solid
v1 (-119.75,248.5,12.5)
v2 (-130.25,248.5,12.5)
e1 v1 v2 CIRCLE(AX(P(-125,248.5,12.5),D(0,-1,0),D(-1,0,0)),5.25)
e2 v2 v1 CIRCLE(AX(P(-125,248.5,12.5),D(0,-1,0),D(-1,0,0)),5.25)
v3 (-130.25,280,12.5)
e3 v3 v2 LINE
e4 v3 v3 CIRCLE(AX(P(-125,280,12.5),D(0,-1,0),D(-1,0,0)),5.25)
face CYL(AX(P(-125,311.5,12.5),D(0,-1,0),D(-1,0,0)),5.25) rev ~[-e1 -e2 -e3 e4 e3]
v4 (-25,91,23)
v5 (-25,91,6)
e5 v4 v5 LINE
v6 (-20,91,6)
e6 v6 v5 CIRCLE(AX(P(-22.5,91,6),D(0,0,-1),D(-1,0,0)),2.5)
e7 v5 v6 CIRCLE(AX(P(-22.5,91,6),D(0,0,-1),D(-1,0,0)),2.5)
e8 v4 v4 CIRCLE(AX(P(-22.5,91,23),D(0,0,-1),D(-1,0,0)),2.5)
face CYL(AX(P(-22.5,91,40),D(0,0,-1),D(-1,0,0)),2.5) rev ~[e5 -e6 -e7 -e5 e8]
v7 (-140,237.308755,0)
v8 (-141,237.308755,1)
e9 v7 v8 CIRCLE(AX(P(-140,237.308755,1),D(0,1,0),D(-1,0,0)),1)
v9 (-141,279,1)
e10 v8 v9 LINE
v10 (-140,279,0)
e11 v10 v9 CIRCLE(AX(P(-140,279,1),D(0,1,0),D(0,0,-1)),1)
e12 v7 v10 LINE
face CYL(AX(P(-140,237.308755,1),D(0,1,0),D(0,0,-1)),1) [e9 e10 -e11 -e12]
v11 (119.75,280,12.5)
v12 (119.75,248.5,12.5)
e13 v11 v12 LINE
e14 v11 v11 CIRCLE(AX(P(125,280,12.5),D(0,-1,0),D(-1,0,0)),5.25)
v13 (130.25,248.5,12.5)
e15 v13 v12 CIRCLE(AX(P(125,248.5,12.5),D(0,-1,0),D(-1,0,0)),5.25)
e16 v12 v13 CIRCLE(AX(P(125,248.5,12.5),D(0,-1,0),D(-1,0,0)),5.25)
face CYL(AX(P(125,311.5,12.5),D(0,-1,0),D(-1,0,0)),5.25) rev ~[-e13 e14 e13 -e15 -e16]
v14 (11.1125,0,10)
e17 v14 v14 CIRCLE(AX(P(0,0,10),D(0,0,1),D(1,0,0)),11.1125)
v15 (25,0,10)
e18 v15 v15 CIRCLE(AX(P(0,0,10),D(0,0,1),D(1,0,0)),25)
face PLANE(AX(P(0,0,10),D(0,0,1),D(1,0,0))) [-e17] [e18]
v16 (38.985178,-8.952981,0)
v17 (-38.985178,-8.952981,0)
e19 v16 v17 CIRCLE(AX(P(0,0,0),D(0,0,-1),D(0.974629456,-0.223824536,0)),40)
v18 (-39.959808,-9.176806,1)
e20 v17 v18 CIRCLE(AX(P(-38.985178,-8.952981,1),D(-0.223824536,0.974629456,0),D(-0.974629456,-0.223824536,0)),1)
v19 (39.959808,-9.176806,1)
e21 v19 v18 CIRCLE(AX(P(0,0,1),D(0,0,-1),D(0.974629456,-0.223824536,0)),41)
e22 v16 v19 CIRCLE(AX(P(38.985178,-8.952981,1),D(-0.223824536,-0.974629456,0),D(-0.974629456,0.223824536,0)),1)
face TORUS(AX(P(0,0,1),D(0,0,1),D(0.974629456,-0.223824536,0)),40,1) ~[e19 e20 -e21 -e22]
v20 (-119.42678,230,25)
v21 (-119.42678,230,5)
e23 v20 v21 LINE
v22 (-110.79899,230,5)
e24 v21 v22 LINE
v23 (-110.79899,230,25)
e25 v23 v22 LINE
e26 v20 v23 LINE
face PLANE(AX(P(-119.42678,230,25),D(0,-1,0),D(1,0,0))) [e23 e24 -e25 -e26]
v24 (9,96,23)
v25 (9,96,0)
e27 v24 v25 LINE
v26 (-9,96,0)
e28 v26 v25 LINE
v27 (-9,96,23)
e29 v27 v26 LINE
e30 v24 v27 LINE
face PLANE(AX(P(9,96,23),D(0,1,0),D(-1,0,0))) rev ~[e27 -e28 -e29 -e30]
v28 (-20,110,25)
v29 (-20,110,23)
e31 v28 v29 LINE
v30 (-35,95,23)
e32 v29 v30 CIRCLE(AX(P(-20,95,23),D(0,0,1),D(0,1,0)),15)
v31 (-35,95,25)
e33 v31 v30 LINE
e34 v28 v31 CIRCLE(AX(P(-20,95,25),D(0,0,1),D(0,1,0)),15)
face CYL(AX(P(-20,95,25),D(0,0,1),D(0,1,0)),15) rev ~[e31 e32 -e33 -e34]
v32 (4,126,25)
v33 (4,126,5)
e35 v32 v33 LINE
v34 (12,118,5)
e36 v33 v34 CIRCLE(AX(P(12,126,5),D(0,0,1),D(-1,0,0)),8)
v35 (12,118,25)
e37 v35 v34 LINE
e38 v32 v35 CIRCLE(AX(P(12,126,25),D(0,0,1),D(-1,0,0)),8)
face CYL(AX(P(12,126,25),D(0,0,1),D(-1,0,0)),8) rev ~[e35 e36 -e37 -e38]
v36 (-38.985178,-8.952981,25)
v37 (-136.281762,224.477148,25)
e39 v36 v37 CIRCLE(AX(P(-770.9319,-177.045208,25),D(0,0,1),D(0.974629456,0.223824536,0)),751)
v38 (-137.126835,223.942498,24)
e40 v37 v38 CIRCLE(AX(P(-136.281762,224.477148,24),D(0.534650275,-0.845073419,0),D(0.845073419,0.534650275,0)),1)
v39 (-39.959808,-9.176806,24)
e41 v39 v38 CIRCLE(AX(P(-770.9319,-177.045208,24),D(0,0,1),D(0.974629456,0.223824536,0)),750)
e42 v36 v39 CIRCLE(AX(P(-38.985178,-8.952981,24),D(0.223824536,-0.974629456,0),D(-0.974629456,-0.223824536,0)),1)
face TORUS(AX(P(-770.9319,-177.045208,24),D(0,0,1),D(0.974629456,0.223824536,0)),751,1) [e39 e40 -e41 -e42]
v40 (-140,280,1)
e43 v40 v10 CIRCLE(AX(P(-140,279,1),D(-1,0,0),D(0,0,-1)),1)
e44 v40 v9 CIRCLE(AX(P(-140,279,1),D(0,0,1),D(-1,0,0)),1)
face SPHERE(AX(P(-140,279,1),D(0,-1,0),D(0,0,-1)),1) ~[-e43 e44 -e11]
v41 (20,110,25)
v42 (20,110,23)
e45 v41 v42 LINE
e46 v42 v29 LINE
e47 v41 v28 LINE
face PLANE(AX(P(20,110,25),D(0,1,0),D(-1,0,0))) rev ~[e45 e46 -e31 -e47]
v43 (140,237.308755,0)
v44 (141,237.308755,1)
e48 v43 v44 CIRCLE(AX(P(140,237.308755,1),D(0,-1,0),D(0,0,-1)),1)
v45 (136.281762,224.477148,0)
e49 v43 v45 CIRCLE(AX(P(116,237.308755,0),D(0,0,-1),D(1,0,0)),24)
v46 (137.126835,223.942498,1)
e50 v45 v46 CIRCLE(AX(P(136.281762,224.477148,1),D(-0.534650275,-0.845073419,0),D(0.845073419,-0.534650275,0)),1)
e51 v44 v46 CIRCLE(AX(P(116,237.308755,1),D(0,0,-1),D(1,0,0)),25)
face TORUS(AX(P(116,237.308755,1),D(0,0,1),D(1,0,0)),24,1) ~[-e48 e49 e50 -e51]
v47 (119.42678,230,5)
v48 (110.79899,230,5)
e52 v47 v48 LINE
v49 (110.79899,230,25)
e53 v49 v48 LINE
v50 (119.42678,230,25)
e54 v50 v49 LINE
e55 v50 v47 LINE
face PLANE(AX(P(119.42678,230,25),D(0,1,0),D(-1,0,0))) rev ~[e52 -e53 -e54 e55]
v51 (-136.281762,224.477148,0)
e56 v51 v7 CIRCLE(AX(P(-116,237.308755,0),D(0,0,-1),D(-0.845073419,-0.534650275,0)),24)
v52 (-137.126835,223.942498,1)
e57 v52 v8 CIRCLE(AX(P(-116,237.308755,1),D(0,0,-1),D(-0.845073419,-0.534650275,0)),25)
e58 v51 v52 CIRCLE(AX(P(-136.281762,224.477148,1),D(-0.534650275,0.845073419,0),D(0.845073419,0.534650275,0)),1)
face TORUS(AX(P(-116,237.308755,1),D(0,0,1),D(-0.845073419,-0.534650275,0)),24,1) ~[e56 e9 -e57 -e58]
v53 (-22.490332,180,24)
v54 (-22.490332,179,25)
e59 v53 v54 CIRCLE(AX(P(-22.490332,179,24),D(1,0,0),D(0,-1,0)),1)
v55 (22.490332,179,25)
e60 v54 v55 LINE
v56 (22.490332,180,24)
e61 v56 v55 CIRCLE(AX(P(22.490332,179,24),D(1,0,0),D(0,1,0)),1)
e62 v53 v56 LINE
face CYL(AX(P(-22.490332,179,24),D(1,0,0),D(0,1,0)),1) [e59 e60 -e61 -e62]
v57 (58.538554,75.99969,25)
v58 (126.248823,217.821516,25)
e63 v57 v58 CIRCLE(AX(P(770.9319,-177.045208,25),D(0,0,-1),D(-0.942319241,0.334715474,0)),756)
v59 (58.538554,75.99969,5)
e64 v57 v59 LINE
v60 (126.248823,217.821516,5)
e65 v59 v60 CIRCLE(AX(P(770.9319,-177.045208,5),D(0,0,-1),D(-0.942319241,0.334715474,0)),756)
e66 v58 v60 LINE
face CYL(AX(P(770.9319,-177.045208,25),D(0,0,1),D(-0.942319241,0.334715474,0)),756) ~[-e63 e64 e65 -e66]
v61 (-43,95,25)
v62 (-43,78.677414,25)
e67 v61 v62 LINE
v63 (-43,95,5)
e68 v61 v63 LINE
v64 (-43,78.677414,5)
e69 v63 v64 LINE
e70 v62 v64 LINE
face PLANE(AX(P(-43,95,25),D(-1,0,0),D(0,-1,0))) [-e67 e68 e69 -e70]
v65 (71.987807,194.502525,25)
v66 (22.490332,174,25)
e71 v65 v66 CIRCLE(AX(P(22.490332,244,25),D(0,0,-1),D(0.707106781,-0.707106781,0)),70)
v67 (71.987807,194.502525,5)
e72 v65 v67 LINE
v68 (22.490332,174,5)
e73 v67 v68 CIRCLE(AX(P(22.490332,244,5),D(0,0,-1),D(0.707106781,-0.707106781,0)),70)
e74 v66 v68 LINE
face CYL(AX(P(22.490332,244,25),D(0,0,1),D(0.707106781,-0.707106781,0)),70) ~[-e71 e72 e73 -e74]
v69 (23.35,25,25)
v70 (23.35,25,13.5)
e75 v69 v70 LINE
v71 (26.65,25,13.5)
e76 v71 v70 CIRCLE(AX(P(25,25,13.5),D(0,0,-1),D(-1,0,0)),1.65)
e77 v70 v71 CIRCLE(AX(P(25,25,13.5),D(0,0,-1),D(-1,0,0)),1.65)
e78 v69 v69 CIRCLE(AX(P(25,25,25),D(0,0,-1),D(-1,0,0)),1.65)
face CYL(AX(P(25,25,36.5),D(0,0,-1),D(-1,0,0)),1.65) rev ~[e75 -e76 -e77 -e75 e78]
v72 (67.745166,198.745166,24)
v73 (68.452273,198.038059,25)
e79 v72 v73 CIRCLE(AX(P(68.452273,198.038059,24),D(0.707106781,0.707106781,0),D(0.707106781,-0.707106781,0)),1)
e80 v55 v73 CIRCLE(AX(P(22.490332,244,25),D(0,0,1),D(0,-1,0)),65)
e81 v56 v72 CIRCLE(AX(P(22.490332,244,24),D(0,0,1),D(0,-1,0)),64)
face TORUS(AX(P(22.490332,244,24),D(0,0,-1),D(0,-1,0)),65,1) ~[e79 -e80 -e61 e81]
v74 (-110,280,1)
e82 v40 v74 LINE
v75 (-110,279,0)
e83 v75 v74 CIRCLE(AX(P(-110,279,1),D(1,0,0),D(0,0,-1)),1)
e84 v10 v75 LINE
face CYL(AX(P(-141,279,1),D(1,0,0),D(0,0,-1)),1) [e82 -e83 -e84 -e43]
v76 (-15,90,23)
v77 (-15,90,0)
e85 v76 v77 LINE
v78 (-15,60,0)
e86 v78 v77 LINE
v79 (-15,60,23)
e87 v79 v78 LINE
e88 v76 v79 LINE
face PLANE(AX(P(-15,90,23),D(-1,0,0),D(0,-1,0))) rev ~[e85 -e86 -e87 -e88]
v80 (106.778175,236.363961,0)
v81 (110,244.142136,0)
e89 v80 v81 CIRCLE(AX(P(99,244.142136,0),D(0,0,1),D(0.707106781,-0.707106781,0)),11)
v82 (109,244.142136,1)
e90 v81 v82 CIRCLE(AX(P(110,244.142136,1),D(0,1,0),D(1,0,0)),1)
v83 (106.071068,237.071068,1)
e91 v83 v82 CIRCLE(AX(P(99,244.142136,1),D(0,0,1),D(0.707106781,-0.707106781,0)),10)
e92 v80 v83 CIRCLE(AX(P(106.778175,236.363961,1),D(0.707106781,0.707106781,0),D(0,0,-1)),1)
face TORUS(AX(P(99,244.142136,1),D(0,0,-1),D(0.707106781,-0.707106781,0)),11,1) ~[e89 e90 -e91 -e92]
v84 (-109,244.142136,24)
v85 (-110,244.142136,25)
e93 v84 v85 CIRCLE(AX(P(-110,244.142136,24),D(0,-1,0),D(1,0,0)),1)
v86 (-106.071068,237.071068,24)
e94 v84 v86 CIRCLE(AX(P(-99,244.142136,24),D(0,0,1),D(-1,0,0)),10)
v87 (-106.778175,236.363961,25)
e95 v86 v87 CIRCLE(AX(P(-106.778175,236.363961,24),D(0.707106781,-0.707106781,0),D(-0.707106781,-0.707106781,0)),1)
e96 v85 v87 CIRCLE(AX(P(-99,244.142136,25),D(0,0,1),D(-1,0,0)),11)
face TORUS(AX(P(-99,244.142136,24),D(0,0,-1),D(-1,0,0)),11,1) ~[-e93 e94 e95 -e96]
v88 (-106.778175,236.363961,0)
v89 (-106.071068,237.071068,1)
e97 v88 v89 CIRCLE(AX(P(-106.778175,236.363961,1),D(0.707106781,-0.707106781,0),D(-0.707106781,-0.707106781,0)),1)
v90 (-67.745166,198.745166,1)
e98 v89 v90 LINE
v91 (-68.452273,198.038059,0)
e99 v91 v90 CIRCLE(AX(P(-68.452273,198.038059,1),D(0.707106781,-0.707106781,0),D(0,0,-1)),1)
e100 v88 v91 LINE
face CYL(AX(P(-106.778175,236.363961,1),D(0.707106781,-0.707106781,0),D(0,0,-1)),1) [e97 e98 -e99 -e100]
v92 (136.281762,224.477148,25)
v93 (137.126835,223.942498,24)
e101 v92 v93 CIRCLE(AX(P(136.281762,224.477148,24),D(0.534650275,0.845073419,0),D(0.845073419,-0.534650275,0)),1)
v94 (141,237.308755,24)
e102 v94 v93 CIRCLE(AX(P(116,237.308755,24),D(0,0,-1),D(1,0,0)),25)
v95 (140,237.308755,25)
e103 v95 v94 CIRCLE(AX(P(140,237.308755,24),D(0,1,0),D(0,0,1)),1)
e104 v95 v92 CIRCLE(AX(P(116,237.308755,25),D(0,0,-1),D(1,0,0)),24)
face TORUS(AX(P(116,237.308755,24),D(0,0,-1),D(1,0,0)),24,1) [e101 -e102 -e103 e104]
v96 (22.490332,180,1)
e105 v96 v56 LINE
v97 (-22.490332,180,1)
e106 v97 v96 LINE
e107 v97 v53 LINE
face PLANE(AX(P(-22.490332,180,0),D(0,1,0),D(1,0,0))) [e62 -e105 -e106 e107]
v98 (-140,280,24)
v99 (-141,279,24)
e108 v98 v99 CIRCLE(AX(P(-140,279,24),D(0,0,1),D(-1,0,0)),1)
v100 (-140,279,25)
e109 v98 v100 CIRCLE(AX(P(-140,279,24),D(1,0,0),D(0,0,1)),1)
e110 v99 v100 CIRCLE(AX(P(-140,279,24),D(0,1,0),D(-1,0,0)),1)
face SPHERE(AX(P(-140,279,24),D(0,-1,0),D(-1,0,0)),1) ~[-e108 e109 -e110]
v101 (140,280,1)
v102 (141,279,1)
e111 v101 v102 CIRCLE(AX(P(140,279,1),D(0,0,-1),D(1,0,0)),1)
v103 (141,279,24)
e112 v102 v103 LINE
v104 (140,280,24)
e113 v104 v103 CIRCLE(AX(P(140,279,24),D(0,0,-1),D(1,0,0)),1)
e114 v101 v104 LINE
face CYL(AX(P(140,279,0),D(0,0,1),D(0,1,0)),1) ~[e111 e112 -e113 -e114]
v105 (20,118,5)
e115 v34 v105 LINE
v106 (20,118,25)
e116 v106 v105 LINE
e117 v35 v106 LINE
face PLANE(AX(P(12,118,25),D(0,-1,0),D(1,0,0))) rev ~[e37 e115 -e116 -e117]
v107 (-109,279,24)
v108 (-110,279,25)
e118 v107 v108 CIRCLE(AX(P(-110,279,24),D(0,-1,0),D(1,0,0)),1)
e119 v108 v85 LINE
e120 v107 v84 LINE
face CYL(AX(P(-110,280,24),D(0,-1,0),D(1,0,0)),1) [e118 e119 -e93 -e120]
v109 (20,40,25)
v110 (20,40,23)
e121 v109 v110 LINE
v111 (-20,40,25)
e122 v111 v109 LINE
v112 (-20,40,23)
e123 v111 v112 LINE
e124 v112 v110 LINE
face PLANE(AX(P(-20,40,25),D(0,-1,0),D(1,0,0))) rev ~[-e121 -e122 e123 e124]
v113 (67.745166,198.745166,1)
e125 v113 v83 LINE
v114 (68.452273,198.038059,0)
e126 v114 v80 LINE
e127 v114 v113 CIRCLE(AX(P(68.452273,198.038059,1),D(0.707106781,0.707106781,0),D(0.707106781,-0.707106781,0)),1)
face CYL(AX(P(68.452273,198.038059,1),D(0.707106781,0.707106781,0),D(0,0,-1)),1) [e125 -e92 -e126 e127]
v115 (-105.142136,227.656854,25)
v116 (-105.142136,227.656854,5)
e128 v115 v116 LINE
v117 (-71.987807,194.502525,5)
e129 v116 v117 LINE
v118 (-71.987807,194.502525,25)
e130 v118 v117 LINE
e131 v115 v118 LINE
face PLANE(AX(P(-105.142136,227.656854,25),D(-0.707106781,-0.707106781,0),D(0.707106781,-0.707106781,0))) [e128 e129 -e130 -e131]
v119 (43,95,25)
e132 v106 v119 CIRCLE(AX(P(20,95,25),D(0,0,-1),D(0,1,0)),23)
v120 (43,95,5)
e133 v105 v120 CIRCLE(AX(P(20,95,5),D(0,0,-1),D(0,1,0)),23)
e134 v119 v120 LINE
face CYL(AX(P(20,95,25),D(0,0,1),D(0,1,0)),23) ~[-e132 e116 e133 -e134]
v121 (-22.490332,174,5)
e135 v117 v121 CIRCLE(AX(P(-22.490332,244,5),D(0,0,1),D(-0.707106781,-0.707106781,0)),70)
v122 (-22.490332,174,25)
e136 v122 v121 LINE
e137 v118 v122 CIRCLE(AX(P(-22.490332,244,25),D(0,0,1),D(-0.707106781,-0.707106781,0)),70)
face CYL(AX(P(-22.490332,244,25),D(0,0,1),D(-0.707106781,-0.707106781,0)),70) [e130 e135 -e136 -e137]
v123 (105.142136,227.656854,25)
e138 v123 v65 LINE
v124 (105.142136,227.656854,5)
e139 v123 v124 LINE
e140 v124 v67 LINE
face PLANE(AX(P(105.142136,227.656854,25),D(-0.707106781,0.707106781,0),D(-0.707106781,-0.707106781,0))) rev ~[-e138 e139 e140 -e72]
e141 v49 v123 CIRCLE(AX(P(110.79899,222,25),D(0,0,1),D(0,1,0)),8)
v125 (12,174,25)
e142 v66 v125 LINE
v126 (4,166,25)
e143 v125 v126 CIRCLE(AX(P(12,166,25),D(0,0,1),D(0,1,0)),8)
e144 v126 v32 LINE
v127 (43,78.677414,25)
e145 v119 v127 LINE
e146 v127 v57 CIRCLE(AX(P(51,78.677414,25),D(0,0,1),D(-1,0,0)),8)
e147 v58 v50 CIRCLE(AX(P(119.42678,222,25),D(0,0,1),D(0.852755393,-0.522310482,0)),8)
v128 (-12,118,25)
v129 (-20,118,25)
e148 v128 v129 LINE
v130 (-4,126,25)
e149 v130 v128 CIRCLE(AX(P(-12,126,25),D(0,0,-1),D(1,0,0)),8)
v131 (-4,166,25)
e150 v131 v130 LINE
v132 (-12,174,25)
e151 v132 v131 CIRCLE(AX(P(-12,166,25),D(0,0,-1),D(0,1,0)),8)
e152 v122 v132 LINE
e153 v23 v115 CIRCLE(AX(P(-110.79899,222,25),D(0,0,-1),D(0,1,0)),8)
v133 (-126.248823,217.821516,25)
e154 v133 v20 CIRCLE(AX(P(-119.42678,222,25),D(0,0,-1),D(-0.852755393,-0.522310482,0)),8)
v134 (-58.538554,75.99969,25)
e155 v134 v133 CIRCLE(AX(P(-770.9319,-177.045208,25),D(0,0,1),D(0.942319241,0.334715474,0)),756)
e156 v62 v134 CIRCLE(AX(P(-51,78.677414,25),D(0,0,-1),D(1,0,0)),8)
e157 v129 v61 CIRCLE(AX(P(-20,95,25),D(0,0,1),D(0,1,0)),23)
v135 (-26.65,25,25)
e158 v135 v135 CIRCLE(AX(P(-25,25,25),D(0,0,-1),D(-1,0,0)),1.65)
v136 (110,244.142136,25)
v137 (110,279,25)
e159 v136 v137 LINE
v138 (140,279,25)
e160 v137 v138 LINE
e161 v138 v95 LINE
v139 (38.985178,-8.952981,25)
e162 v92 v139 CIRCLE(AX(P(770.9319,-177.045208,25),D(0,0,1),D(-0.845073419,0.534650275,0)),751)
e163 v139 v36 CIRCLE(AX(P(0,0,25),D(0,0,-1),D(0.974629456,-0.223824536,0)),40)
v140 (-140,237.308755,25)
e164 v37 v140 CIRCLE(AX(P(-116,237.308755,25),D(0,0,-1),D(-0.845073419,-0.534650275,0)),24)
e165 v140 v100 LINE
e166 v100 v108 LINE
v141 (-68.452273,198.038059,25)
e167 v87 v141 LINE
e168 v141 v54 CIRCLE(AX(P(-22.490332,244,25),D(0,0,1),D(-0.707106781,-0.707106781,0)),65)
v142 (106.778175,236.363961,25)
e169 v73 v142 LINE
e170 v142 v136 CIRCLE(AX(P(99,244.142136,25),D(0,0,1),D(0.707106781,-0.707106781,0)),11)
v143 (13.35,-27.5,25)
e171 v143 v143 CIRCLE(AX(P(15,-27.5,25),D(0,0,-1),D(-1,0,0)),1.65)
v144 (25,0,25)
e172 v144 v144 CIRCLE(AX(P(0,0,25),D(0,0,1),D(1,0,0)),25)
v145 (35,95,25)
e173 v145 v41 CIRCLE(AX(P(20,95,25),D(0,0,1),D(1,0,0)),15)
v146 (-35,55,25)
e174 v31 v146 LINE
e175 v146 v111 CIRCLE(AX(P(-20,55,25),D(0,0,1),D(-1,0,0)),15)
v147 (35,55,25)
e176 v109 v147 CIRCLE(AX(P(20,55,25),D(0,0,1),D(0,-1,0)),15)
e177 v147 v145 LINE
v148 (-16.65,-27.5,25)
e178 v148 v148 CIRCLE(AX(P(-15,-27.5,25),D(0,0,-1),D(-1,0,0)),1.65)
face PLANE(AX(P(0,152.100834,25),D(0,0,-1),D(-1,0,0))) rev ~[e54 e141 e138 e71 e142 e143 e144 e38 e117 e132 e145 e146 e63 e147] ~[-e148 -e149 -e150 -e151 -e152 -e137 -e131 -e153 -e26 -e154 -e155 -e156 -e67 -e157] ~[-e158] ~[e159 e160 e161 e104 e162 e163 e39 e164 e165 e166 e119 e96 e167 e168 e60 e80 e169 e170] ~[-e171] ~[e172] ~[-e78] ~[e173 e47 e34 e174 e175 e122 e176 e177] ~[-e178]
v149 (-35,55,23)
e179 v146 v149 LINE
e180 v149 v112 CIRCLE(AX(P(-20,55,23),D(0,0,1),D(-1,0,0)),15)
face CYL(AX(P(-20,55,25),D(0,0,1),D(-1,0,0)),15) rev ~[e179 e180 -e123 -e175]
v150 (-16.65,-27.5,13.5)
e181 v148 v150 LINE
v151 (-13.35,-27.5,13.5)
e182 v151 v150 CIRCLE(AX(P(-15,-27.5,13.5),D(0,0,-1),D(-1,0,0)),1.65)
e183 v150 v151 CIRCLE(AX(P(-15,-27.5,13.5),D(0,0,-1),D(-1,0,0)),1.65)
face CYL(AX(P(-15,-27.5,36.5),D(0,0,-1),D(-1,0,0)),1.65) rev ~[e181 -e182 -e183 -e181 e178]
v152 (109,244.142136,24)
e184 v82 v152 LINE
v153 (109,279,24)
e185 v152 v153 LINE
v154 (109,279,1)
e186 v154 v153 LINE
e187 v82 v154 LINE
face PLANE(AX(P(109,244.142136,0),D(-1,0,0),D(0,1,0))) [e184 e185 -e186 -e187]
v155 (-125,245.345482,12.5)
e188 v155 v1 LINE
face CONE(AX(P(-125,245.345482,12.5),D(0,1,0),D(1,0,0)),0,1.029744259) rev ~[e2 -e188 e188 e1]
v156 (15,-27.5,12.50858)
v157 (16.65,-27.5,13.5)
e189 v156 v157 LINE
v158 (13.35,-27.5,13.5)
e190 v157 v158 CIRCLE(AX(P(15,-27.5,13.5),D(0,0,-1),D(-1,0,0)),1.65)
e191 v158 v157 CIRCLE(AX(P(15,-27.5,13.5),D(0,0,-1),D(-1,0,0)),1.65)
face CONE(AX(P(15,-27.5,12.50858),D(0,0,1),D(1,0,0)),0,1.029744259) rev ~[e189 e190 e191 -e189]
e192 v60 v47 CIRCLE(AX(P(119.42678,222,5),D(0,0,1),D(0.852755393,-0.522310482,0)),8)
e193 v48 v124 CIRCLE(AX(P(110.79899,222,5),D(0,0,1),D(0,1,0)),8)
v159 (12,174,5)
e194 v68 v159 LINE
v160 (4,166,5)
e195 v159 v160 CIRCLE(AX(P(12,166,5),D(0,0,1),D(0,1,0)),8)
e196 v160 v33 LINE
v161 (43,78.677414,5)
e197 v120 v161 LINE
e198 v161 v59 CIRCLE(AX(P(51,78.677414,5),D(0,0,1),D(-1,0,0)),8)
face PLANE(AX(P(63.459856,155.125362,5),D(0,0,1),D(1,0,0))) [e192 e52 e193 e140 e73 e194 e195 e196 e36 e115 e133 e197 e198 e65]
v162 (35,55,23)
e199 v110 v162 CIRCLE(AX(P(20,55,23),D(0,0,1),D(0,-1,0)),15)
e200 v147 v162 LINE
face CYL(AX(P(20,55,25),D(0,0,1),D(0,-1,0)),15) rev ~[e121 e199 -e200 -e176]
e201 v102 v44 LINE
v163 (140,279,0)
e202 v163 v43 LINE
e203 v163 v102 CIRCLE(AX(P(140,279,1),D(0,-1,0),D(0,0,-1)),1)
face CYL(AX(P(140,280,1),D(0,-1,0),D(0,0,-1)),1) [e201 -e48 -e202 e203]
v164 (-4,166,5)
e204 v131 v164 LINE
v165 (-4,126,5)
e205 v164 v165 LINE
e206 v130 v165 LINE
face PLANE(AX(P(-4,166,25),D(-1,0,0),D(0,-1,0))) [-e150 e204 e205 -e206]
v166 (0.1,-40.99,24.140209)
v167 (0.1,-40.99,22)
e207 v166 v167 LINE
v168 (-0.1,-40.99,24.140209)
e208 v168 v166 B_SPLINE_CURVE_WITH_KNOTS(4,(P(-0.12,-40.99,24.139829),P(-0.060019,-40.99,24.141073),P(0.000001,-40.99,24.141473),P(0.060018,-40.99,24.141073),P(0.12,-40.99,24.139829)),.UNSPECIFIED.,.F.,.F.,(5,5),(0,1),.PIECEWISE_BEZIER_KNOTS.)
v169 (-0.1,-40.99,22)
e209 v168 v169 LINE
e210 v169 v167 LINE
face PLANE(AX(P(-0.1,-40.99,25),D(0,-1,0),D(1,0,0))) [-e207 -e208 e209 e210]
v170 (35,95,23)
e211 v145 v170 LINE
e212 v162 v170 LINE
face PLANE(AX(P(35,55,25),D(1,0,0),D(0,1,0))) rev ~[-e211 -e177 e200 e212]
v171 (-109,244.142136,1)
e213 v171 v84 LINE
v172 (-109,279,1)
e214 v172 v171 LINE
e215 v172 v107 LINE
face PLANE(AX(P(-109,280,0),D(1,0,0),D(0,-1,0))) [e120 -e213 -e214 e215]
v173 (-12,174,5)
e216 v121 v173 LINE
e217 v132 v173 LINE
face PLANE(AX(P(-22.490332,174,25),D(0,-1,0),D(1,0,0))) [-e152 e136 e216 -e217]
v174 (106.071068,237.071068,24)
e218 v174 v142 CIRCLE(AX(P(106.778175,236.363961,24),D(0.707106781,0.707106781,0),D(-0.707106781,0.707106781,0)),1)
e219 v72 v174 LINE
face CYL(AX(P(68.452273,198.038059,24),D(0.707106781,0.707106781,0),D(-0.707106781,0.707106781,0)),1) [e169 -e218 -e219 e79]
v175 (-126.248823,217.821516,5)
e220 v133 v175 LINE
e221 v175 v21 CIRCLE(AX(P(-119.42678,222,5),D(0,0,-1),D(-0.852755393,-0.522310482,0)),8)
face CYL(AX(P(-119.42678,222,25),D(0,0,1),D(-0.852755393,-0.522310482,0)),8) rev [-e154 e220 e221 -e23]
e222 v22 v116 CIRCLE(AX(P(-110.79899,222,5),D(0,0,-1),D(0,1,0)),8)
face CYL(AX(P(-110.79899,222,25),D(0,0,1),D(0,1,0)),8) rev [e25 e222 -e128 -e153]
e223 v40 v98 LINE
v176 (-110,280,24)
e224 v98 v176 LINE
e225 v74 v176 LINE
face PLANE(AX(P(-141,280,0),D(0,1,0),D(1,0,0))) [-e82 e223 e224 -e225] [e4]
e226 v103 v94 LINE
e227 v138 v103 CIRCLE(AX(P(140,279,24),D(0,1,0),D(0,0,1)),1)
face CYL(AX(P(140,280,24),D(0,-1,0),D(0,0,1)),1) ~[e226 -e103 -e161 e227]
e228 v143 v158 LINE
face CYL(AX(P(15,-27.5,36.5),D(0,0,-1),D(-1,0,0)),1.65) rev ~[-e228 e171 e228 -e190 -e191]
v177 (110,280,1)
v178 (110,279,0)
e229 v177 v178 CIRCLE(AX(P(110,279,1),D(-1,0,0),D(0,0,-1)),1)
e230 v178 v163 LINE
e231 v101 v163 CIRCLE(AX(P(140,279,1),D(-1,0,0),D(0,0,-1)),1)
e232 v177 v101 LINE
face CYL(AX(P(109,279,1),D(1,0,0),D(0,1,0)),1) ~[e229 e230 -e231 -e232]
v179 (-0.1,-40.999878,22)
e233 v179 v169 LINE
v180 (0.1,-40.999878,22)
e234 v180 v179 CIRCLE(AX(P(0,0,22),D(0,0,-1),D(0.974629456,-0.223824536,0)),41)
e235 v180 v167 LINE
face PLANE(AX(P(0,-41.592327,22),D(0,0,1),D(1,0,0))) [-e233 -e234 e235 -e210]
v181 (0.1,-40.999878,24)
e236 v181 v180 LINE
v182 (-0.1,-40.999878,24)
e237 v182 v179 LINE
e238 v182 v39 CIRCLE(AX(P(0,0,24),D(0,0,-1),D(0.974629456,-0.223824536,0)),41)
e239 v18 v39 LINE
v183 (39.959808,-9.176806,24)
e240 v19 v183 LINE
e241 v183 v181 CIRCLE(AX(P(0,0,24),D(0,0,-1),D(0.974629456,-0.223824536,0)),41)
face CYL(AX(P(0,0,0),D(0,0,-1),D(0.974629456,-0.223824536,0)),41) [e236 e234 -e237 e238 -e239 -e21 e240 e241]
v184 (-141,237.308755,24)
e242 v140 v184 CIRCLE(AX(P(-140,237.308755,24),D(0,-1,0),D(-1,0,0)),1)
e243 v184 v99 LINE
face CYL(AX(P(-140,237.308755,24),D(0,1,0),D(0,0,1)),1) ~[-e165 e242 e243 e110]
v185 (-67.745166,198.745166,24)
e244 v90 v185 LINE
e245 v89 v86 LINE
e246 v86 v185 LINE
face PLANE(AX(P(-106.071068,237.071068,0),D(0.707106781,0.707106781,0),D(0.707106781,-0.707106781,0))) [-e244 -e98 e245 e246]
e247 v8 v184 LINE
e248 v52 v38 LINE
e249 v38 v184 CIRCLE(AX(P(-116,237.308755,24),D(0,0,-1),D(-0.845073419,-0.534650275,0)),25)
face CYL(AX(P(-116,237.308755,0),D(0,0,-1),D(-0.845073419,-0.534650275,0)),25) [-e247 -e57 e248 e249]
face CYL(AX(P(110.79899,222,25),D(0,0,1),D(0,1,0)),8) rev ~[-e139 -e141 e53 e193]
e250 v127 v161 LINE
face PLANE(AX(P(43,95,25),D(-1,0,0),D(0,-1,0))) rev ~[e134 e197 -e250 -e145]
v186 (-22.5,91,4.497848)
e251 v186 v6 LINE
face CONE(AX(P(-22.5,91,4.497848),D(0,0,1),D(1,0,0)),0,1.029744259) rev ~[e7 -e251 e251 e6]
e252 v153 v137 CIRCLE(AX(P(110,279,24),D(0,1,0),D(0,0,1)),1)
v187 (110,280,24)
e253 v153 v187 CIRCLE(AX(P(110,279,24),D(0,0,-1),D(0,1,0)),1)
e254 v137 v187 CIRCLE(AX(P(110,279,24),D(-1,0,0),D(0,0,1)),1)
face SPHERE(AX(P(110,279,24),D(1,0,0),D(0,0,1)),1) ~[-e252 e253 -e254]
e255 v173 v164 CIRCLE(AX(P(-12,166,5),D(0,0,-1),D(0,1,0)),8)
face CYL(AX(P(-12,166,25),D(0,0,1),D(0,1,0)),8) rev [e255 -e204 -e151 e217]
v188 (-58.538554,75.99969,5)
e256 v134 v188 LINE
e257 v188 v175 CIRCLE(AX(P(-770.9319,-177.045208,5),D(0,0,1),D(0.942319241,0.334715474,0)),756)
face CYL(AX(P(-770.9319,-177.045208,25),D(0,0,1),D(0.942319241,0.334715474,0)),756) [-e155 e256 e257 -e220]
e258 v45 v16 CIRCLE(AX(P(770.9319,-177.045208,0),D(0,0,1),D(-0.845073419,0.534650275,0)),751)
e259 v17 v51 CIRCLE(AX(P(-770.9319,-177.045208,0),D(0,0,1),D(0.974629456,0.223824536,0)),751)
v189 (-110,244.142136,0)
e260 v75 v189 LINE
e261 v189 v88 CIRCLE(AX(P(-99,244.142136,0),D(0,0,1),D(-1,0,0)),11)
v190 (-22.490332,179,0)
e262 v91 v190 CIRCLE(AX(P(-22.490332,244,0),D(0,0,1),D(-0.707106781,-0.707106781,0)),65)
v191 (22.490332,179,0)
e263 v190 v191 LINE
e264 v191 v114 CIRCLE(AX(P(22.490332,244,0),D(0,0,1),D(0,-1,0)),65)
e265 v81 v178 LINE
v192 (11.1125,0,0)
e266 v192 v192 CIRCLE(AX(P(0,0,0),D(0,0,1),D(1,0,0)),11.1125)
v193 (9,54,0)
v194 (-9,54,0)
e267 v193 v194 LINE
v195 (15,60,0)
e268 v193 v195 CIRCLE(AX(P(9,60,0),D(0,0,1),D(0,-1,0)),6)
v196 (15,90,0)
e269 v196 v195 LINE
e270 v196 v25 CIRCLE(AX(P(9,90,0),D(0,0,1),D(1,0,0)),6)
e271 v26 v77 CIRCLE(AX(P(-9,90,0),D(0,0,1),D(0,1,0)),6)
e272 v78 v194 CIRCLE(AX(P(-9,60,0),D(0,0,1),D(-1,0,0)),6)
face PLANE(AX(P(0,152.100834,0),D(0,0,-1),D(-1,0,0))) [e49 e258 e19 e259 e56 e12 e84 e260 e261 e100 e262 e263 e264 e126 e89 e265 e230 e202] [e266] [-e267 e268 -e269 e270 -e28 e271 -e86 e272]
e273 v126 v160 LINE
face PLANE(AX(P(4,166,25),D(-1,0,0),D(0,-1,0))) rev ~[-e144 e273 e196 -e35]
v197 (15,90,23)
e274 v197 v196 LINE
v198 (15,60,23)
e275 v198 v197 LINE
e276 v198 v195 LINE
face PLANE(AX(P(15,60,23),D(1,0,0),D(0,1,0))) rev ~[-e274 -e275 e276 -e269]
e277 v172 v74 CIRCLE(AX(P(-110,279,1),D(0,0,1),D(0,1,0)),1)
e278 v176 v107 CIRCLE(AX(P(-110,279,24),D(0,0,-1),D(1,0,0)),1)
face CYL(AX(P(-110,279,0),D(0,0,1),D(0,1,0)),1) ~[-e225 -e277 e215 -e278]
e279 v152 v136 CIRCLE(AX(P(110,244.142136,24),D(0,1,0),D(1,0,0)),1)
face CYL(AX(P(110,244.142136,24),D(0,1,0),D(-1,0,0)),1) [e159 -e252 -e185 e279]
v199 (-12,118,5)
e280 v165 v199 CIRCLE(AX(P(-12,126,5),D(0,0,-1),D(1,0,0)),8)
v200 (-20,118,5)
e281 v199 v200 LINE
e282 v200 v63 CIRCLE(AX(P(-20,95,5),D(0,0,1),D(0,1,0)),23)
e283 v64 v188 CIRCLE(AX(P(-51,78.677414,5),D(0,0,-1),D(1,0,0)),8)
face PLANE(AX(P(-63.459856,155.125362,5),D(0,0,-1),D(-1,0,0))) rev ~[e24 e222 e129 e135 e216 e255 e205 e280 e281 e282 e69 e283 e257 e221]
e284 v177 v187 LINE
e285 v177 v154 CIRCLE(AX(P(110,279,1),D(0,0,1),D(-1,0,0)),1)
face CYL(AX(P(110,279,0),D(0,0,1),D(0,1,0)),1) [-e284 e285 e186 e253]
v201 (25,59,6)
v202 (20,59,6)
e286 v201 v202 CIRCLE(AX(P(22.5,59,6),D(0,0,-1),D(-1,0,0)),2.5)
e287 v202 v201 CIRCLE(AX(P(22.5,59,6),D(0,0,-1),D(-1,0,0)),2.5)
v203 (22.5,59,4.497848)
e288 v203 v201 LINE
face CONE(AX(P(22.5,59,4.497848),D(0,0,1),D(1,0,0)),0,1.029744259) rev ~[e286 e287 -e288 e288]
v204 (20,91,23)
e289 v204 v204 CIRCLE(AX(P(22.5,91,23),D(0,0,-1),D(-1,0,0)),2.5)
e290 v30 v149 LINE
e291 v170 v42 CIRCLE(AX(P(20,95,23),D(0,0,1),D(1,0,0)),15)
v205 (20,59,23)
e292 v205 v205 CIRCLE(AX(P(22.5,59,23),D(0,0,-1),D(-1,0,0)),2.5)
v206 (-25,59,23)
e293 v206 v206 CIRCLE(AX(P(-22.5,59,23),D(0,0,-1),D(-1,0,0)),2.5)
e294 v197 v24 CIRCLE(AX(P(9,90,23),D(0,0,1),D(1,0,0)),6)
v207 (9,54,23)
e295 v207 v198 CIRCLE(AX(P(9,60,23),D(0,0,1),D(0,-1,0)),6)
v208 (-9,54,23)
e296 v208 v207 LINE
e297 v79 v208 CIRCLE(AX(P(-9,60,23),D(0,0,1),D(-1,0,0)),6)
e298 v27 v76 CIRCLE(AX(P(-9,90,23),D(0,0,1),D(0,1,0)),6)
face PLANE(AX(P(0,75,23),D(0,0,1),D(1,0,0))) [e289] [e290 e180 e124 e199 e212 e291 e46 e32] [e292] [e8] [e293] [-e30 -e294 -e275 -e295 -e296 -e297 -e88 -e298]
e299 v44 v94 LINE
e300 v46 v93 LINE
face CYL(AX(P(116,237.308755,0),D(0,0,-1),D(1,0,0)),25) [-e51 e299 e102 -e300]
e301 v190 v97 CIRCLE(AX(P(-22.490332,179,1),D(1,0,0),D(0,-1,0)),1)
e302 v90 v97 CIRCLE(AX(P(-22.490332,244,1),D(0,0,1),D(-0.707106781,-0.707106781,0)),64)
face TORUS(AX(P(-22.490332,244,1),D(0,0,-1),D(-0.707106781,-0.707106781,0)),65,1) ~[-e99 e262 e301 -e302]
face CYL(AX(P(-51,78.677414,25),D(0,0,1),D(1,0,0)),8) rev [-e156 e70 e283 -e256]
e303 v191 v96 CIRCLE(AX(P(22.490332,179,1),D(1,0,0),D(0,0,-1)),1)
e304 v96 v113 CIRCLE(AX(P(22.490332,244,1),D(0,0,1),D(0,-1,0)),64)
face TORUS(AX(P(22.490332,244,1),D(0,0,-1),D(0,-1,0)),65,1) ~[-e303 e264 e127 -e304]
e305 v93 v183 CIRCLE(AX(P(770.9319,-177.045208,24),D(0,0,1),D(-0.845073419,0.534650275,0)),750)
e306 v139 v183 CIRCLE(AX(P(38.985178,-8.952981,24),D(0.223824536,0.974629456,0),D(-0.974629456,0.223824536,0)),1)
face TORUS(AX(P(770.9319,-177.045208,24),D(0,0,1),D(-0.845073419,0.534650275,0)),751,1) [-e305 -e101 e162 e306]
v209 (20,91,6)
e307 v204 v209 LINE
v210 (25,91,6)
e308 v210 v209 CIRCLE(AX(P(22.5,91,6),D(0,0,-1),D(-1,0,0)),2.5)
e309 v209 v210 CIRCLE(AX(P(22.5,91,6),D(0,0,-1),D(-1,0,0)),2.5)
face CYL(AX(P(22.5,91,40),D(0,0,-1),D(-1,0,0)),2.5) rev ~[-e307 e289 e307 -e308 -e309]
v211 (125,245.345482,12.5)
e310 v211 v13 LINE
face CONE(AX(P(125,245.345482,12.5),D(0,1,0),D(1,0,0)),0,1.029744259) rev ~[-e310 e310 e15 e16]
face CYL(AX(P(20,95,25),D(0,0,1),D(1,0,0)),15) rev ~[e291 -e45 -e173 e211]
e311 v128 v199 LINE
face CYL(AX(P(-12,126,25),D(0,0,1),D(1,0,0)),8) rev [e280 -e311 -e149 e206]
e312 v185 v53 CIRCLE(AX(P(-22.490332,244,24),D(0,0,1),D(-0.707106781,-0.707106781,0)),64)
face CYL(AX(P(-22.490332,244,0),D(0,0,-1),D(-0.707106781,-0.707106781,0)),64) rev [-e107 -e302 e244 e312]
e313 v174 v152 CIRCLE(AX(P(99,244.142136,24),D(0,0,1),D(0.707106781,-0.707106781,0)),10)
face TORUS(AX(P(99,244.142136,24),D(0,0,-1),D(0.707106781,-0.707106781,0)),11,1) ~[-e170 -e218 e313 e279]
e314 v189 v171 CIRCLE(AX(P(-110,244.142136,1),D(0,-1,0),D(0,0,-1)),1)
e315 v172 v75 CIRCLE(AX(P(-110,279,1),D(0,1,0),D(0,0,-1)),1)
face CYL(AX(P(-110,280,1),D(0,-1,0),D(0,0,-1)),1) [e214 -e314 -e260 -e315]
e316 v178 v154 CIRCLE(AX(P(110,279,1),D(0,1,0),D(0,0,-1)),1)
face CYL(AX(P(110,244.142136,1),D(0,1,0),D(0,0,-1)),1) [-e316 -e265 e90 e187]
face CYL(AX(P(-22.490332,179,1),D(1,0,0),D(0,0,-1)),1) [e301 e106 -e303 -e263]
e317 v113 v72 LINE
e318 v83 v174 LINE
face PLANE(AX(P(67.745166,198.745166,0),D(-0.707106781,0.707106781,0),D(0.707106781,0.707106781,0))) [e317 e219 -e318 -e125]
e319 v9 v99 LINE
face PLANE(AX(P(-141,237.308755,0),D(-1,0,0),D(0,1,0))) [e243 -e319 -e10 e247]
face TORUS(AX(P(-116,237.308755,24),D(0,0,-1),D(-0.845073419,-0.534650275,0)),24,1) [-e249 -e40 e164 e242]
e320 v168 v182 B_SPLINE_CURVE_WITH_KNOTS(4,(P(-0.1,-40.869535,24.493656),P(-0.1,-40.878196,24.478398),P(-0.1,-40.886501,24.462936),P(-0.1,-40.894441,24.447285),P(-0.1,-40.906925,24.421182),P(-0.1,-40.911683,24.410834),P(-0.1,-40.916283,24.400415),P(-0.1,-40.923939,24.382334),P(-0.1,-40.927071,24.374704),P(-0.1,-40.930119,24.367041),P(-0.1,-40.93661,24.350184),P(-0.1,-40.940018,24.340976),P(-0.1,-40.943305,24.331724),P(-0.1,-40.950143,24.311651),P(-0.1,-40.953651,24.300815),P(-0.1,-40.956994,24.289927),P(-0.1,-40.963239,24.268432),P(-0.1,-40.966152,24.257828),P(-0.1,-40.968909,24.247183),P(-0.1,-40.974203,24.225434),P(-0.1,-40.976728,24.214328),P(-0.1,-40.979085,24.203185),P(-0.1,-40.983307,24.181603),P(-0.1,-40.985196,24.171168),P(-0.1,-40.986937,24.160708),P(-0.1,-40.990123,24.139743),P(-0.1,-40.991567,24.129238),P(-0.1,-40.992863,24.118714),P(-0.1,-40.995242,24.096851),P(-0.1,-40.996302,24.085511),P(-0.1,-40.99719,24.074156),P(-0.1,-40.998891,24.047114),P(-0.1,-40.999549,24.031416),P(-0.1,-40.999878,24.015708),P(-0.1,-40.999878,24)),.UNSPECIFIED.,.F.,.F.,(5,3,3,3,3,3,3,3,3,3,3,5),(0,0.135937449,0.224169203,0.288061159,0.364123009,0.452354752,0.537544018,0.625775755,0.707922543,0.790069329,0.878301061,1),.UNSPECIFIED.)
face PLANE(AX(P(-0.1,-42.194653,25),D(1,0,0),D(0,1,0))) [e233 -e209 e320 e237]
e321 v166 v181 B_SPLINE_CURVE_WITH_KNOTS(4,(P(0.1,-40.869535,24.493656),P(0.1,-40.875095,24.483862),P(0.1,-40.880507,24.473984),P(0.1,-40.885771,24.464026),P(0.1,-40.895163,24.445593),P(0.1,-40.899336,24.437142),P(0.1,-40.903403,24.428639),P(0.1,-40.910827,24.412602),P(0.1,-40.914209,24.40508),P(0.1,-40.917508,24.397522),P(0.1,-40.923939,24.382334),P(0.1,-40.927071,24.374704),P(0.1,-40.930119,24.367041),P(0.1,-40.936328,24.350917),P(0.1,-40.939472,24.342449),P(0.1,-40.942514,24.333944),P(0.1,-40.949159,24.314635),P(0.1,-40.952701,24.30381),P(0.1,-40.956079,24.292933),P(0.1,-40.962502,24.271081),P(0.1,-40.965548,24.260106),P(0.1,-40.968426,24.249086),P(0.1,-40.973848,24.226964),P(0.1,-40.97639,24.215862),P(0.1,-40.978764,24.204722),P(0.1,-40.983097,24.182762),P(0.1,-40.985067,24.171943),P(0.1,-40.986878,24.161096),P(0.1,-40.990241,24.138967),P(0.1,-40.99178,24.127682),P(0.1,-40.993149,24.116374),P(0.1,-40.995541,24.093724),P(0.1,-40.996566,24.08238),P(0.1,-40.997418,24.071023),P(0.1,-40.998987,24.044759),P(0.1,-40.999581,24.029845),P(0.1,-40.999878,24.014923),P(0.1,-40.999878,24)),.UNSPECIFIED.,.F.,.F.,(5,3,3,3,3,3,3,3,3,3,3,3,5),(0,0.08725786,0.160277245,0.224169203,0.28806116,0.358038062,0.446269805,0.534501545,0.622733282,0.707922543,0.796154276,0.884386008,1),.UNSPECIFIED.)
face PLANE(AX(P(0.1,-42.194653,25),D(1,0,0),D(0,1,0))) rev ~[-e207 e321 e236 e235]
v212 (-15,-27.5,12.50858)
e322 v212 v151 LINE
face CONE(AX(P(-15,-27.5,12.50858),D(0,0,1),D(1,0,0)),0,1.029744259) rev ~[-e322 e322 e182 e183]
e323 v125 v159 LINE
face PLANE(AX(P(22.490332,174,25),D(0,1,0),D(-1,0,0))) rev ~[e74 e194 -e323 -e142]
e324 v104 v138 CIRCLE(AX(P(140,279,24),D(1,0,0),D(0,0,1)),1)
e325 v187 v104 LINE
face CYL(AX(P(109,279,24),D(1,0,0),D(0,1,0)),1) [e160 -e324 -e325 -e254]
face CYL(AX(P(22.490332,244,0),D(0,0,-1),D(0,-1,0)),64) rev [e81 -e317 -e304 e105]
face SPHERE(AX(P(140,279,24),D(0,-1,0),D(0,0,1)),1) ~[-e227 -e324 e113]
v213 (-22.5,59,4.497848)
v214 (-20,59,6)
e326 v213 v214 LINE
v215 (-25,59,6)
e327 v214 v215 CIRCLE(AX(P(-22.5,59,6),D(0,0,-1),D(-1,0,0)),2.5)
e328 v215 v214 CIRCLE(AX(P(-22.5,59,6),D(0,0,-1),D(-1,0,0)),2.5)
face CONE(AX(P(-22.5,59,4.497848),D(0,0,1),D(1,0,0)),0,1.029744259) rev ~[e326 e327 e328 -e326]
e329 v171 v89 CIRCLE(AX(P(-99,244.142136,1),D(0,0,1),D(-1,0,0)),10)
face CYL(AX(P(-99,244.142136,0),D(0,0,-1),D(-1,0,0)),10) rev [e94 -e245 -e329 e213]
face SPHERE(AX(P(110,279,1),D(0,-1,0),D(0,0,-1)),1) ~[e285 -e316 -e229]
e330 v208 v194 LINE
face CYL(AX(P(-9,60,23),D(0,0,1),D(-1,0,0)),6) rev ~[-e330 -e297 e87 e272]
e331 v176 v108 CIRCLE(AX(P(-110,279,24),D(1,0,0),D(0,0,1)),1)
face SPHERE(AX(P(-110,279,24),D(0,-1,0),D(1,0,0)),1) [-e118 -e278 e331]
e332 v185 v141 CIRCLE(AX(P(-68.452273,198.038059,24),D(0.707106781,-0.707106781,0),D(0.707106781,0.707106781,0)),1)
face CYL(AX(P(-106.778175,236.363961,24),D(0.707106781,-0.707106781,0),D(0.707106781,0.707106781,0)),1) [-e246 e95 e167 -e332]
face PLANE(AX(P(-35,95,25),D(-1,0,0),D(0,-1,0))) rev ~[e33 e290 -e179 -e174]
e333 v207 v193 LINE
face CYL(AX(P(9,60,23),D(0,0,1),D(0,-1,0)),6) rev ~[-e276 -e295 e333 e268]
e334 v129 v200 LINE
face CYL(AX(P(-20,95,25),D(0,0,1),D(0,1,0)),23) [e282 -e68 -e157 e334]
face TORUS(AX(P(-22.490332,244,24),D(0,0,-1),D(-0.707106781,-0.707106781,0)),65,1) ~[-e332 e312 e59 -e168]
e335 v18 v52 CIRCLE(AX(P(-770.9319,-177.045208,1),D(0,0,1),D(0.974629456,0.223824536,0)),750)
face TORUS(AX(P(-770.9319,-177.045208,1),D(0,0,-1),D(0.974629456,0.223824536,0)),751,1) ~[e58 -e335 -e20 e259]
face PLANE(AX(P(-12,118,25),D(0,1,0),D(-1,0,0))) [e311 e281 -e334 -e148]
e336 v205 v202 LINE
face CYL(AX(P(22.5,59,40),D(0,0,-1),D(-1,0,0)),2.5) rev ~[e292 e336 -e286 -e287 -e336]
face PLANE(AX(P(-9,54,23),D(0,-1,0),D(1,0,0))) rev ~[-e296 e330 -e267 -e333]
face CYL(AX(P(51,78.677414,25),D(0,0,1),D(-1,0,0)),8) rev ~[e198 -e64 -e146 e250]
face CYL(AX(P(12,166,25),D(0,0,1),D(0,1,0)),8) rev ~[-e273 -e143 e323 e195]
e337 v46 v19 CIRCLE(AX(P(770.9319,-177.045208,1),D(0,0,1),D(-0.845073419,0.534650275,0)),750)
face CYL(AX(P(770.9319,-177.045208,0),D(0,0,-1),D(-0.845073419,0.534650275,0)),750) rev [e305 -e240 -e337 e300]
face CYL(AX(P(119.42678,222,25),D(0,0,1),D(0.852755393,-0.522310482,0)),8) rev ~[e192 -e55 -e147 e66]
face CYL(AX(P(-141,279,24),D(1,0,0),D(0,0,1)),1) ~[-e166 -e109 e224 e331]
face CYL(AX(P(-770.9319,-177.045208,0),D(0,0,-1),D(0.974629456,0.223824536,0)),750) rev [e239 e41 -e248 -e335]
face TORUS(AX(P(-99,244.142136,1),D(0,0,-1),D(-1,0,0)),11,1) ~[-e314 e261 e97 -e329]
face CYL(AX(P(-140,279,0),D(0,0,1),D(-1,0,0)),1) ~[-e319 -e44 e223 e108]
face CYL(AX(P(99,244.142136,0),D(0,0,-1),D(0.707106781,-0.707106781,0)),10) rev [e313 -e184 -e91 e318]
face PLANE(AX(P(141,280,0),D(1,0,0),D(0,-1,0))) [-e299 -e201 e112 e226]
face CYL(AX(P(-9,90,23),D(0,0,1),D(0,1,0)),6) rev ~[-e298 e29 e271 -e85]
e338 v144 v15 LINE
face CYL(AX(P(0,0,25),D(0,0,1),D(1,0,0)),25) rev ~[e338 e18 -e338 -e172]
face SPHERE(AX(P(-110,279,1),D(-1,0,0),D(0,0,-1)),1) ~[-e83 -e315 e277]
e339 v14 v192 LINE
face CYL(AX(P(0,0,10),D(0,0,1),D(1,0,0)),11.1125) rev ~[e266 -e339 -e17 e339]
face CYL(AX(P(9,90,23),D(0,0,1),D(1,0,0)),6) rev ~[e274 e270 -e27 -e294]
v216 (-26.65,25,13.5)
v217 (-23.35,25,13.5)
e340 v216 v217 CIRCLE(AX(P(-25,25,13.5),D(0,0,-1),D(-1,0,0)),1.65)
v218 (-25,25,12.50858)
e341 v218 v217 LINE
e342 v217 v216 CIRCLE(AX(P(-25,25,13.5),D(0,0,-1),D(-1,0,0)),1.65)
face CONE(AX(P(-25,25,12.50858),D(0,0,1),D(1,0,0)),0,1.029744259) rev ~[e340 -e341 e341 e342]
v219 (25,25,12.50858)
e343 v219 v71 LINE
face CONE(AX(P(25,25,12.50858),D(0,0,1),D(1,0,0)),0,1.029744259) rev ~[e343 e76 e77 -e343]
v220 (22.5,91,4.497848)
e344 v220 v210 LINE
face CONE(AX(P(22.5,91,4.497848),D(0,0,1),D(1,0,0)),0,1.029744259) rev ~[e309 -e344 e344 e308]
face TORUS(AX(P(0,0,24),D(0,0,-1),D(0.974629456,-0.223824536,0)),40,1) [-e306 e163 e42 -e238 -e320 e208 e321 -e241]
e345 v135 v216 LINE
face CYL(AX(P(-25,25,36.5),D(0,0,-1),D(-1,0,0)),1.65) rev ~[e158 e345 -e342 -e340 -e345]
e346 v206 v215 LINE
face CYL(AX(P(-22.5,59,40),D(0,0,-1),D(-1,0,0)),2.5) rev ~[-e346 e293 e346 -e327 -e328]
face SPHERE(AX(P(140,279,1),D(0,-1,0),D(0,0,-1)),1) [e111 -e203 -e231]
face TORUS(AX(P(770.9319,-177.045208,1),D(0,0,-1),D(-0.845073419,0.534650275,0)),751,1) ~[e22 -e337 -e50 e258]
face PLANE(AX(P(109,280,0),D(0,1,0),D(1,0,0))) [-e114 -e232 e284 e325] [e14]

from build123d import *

# Parameters (mm, degrees)
BOSS_EXTRUDE1_DEPTH        = 25
SKETCH2_R                  = 25
CUT_EXTRUDE1_DEPTH         = 15
CUT_EXTRUDE3_DEPTH         = 2
CUT_EXTRUDE4_DEPTH         = 20
FILLET1_R                  = 1
SKETCH3_R                  = 11.1125
CUT_EXTRUDE2_DEPTH         = 19.05
CUT_EXTRUDE6_DEPTH         = 315.340579634
M12X1_5_TAPPED_HOLE1_D     = 10.5
M12X1_5_TAPPED_HOLE1_DEPTH = 31.5
M12X1_5_TAPPED_HOLE1_TIP   = 3.15451825
M4X0_7_TAPPED_HOLE1_D      = 3.3
M4X0_7_TAPPED_HOLE1_DEPTH  = 11.5
M4X0_7_TAPPED_HOLE1_TIP    = 0.991420021
M6X1_0_TAPPED_HOLE1_D      = 5
M6X1_0_TAPPED_HOLE1_DEPTH  = 17
M6X1_0_TAPPED_HOLE1_TIP    = 1.502151548
SKETCH24_W                 = 0.2
SKETCH24_H                 = 1.204653058
CUT_EXTRUDE7_DEPTH         = 3


with BuildPart() as part:
    # Sketch1 → Boss-Extrude1 (new body)
    with BuildSketch(Plane.XY):
        with BuildLine():
            Line((109, 280), (141, 280))
            Line((141, 280), (141, 237.308754644))
            ThreePointArc((141, 237.308754644), (140.012193642, 230.350697696), (137.12683548, 223.942497778))
            ThreePointArc((137.12683548, 223.942497778), (78.660042714, 111.502319563), (39.959807706, -9.176805987))
            ThreePointArc((39.959807706, -9.176805987), (0, -41), (-39.959807706, -9.176805987))
            ThreePointArc((-39.959807706, -9.176805987), (-78.660042714, 111.502319563), (-137.12683548, 223.942497778))
            ThreePointArc((-137.12683548, 223.942497778), (-140.012193642, 230.350697696), (-141, 237.308754644))
            Line((-141, 237.308754644), (-141, 280))
            Line((-141, 280), (-109, 280))
            Line((-109, 280), (-109, 244.142135624))
            ThreePointArc((-109, 244.142135624), (-108.238795325, 240.3153013), (-106.071067812, 237.071067812))
            Line((-106.071067812, 237.071067812), (-67.745166004, 198.745166004))
            ThreePointArc((-67.745166004, 198.745166004), (-46.982071679, 184.871709919), (-22.490332008, 180))
            Line((-22.490332008, 180), (22.490332008, 180))
            ThreePointArc((22.490332008, 180), (46.982071679, 184.871709919), (67.745166004, 198.745166004))
            Line((67.745166004, 198.745166004), (106.071067812, 237.071067812))
            ThreePointArc((106.071067812, 237.071067812), (108.238795325, 240.3153013), (109, 244.142135624))
            Line((109, 244.142135624), (109, 280))
        make_face()
    extrude(amount=BOSS_EXTRUDE1_DEPTH)

    # Sketch2 → Cut-Extrude1 (cut)
    with BuildSketch(Plane.XY.offset(25)):
        Circle(SKETCH2_R)
    extrude(amount=-CUT_EXTRUDE1_DEPTH, mode=Mode.SUBTRACT)

    # Sketch4 → Cut-Extrude3 (cut)
    with BuildSketch(Plane.XY.offset(25)):
        with BuildLine():
            Line((-20, 40), (20, 40))
            ThreePointArc((20, 40), (30.606601718, 44.393398282), (35, 55))
            Line((35, 55), (35, 95))
            ThreePointArc((35, 95), (30.606601718, 105.606601718), (20, 110))
            Line((20, 110), (-20, 110))
            ThreePointArc((-20, 110), (-30.606601718, 105.606601718), (-35, 95))
            Line((-35, 95), (-35, 55))
            ThreePointArc((-35, 55), (-30.606601718, 44.393398282), (-20, 40))
        make_face()
    extrude(amount=-CUT_EXTRUDE3_DEPTH, mode=Mode.SUBTRACT)

    # Sketch5 → Cut-Extrude4 (cut)
    with BuildSketch(Plane.XY.offset(25)):
        with BuildLine():
            Line((22.490332008, 174), (12, 174))
            ThreePointArc((12, 174), (6.343145751, 171.656854249), (4, 166))
            Line((4, 166), (4, 126))
            ThreePointArc((4, 126), (6.343145751, 120.343145751), (12, 118))
            Line((12, 118), (20, 118))
            ThreePointArc((20, 118), (36.263455967, 111.263455967), (43, 95))
            Line((43, 95), (43, 78.677414062))
            ThreePointArc((43, 78.677414062), (49.641403556, 70.793619563), (58.538553925, 75.999690268))
            ThreePointArc((58.538553925, 75.999690268), (88.698463192, 148.674821685), (126.248822694, 217.821516145))
            ThreePointArc((126.248822694, 217.821516145), (126.406316455, 225.909739707), (119.426779549, 230))
            Line((119.426779549, 230), (110.798989873, 230))
            ThreePointArc((110.798989873, 230), (107.737522414, 229.39103626), (105.142135624, 227.656854249))
            Line((105.142135624, 227.656854249), (71.987806691, 194.502525317))
            ThreePointArc((71.987806691, 194.502525317), (49.278172274, 179.328432724), (22.490332008, 174))
        make_face()
        with BuildLine():
            Line((-43, 95), (-43, 78.677414062))
            ThreePointArc((-43, 78.677414062), (-49.641403556, 70.793619563), (-58.538553925, 75.999690268))
            ThreePointArc((-58.538553925, 75.999690268), (-88.698463192, 148.674821685), (-126.248822694, 217.821516145))
            ThreePointArc((-126.248822694, 217.821516145), (-126.406316455, 225.909739707), (-119.426779549, 230))
            Line((-119.426779549, 230), (-110.798989873, 230))
            ThreePointArc((-110.798989873, 230), (-107.737522414, 229.39103626), (-105.142135624, 227.656854249))
            Line((-105.142135624, 227.656854249), (-71.987806691, 194.502525317))
            ThreePointArc((-71.987806691, 194.502525317), (-49.278172274, 179.328432724), (-22.490332008, 174))
            Line((-22.490332008, 174), (-12, 174))
            ThreePointArc((-12, 174), (-6.343145751, 171.656854249), (-4, 166))
            Line((-4, 166), (-4, 126))
            ThreePointArc((-4, 126), (-6.343145751, 120.343145751), (-12, 118))
            Line((-12, 118), (-20, 118))
            ThreePointArc((-20, 118), (-36.263455967, 111.263455967), (-43, 95))
        make_face()
    extrude(amount=-CUT_EXTRUDE4_DEPTH, mode=Mode.SUBTRACT)

    # Fillet1
    fillet1_edges = [part.edges().sort_by_distance(p)[0] for p in [
        (78.660042714, 111.502319563, 25),
        (140.012193642, 230.350697696, 25),
        (-140.012193642, 230.350697696, 0),
        (141, 258.654377322, 25),
        (-141, 258.654377322, 0),
        (-125, 280, 0),
        (-109, 262.071067812, 0),
        (-108.238795325, 240.3153013, 0),
        (-86.908116908, 217.908116908, 0),
        (-46.982071679, 184.871709919, 0),
        (0, 180, 0),
        (46.982071679, 184.871709919, 0),
        (125, 280, 25),
        (86.908116908, 217.908116908, 0),
        (108.238795325, 240.3153013, 0),
        (109, 262.071067812, 0),
        (125, 280, 0),
        (141, 258.654377322, 0),
        (140.012193642, 230.350697696, 0),
        (78.660042714, 111.502319563, 0),
        (109, 262.071067812, 25),
        (0, -41, 0),
        (-78.660042714, 111.502319563, 0),
        (108.238795325, 240.3153013, 25),
        (86.908116908, 217.908116908, 25),
        (-141, 280, 12.5),
        (-109, 280, 12.5),
        (109, 280, 12.5),
        (141, 280, 12.5),
        (46.982071679, 184.871709919, 25),
        (0, 180, 25),
        (-46.982071679, 184.871709919, 25),
        (-78.660042714, 111.502319563, 25),
        (-86.908116908, 217.908116908, 25),
        (-108.238795325, 240.3153013, 25),
        (-109, 262.071067812, 25),
        (-125, 280, 25),
        (-141, 258.654377322, 25),
        (-140.012193642, 230.350697696, 25),
        (0, -41, 25),
    ]]
    fillet(fillet1_edges, radius=FILLET1_R)

    # Sketch3 → Cut-Extrude2 (cut)
    with BuildSketch(Plane.XY.offset(10)):
        Circle(SKETCH3_R)
    extrude(amount=-CUT_EXTRUDE2_DEPTH, mode=Mode.SUBTRACT)

    # Sketch10 → Cut-Extrude6 (cut, through all)
    with BuildSketch(Plane.XY.offset(23)):
        with BuildLine():
            Line((15, 60), (15, 90))
            ThreePointArc((15, 90), (13.242640687, 94.242640687), (9, 96))
            Line((9, 96), (-9, 96))
            ThreePointArc((-9, 96), (-13.242640687, 94.242640687), (-15, 90))
            Line((-15, 90), (-15, 60))
            ThreePointArc((-15, 60), (-13.242640687, 55.757359313), (-9, 54))
            Line((-9, 54), (9, 54))
            ThreePointArc((9, 54), (13.242640687, 55.757359313), (15, 60))
        make_face()
    extrude(amount=-CUT_EXTRUDE6_DEPTH, mode=Mode.SUBTRACT)

    # M12x1.5 Tapped Hole1
    with Locations(Plane(origin=(0, 280, 0), x_dir=(1, 0, 0), z_dir=(0, 1, 0))):
        with Locations((-125, -12.5), (125, -12.5)):
            Hole(M12X1_5_TAPPED_HOLE1_D / 2, depth=M12X1_5_TAPPED_HOLE1_DEPTH)
            with Locations((0, 0, -(M12X1_5_TAPPED_HOLE1_DEPTH + M12X1_5_TAPPED_HOLE1_TIP / 2))):  # 118° drill point
                Cone(0, M12X1_5_TAPPED_HOLE1_D / 2, M12X1_5_TAPPED_HOLE1_TIP, mode=Mode.SUBTRACT)

    # M4x0.7 Tapped Hole1
    with Locations(Plane.XY.offset(25)):
        with Locations((-15, -27.5), (25, 25), (-25, 25), (15, -27.5)):
            Hole(M4X0_7_TAPPED_HOLE1_D / 2, depth=M4X0_7_TAPPED_HOLE1_DEPTH)
            with Locations((0, 0, -(M4X0_7_TAPPED_HOLE1_DEPTH + M4X0_7_TAPPED_HOLE1_TIP / 2))):  # 118° drill point
                Cone(0, M4X0_7_TAPPED_HOLE1_D / 2, M4X0_7_TAPPED_HOLE1_TIP, mode=Mode.SUBTRACT)

    # M6x1.0 Tapped Hole1
    with Locations(Plane.XY.offset(23)):
        with Locations((-22.5, 59), (-22.5, 91), (22.5, 91), (22.5, 59)):
            Hole(M6X1_0_TAPPED_HOLE1_D / 2, depth=M6X1_0_TAPPED_HOLE1_DEPTH)
            with Locations((0, 0, -(M6X1_0_TAPPED_HOLE1_DEPTH + M6X1_0_TAPPED_HOLE1_TIP / 2))):  # 118° drill point
                Cone(0, M6X1_0_TAPPED_HOLE1_D / 2, M6X1_0_TAPPED_HOLE1_TIP, mode=Mode.SUBTRACT)

    # Sketch24 → Cut-Extrude7 (cut)
    with BuildSketch(Plane.XY.offset(25)):
        with Locations((0, -41.592326529)):
            Rectangle(SKETCH24_W, SKETCH24_H)
    extrude(amount=-CUT_EXTRUDE7_DEPTH, mode=Mode.SUBTRACT)


solid = part.part
